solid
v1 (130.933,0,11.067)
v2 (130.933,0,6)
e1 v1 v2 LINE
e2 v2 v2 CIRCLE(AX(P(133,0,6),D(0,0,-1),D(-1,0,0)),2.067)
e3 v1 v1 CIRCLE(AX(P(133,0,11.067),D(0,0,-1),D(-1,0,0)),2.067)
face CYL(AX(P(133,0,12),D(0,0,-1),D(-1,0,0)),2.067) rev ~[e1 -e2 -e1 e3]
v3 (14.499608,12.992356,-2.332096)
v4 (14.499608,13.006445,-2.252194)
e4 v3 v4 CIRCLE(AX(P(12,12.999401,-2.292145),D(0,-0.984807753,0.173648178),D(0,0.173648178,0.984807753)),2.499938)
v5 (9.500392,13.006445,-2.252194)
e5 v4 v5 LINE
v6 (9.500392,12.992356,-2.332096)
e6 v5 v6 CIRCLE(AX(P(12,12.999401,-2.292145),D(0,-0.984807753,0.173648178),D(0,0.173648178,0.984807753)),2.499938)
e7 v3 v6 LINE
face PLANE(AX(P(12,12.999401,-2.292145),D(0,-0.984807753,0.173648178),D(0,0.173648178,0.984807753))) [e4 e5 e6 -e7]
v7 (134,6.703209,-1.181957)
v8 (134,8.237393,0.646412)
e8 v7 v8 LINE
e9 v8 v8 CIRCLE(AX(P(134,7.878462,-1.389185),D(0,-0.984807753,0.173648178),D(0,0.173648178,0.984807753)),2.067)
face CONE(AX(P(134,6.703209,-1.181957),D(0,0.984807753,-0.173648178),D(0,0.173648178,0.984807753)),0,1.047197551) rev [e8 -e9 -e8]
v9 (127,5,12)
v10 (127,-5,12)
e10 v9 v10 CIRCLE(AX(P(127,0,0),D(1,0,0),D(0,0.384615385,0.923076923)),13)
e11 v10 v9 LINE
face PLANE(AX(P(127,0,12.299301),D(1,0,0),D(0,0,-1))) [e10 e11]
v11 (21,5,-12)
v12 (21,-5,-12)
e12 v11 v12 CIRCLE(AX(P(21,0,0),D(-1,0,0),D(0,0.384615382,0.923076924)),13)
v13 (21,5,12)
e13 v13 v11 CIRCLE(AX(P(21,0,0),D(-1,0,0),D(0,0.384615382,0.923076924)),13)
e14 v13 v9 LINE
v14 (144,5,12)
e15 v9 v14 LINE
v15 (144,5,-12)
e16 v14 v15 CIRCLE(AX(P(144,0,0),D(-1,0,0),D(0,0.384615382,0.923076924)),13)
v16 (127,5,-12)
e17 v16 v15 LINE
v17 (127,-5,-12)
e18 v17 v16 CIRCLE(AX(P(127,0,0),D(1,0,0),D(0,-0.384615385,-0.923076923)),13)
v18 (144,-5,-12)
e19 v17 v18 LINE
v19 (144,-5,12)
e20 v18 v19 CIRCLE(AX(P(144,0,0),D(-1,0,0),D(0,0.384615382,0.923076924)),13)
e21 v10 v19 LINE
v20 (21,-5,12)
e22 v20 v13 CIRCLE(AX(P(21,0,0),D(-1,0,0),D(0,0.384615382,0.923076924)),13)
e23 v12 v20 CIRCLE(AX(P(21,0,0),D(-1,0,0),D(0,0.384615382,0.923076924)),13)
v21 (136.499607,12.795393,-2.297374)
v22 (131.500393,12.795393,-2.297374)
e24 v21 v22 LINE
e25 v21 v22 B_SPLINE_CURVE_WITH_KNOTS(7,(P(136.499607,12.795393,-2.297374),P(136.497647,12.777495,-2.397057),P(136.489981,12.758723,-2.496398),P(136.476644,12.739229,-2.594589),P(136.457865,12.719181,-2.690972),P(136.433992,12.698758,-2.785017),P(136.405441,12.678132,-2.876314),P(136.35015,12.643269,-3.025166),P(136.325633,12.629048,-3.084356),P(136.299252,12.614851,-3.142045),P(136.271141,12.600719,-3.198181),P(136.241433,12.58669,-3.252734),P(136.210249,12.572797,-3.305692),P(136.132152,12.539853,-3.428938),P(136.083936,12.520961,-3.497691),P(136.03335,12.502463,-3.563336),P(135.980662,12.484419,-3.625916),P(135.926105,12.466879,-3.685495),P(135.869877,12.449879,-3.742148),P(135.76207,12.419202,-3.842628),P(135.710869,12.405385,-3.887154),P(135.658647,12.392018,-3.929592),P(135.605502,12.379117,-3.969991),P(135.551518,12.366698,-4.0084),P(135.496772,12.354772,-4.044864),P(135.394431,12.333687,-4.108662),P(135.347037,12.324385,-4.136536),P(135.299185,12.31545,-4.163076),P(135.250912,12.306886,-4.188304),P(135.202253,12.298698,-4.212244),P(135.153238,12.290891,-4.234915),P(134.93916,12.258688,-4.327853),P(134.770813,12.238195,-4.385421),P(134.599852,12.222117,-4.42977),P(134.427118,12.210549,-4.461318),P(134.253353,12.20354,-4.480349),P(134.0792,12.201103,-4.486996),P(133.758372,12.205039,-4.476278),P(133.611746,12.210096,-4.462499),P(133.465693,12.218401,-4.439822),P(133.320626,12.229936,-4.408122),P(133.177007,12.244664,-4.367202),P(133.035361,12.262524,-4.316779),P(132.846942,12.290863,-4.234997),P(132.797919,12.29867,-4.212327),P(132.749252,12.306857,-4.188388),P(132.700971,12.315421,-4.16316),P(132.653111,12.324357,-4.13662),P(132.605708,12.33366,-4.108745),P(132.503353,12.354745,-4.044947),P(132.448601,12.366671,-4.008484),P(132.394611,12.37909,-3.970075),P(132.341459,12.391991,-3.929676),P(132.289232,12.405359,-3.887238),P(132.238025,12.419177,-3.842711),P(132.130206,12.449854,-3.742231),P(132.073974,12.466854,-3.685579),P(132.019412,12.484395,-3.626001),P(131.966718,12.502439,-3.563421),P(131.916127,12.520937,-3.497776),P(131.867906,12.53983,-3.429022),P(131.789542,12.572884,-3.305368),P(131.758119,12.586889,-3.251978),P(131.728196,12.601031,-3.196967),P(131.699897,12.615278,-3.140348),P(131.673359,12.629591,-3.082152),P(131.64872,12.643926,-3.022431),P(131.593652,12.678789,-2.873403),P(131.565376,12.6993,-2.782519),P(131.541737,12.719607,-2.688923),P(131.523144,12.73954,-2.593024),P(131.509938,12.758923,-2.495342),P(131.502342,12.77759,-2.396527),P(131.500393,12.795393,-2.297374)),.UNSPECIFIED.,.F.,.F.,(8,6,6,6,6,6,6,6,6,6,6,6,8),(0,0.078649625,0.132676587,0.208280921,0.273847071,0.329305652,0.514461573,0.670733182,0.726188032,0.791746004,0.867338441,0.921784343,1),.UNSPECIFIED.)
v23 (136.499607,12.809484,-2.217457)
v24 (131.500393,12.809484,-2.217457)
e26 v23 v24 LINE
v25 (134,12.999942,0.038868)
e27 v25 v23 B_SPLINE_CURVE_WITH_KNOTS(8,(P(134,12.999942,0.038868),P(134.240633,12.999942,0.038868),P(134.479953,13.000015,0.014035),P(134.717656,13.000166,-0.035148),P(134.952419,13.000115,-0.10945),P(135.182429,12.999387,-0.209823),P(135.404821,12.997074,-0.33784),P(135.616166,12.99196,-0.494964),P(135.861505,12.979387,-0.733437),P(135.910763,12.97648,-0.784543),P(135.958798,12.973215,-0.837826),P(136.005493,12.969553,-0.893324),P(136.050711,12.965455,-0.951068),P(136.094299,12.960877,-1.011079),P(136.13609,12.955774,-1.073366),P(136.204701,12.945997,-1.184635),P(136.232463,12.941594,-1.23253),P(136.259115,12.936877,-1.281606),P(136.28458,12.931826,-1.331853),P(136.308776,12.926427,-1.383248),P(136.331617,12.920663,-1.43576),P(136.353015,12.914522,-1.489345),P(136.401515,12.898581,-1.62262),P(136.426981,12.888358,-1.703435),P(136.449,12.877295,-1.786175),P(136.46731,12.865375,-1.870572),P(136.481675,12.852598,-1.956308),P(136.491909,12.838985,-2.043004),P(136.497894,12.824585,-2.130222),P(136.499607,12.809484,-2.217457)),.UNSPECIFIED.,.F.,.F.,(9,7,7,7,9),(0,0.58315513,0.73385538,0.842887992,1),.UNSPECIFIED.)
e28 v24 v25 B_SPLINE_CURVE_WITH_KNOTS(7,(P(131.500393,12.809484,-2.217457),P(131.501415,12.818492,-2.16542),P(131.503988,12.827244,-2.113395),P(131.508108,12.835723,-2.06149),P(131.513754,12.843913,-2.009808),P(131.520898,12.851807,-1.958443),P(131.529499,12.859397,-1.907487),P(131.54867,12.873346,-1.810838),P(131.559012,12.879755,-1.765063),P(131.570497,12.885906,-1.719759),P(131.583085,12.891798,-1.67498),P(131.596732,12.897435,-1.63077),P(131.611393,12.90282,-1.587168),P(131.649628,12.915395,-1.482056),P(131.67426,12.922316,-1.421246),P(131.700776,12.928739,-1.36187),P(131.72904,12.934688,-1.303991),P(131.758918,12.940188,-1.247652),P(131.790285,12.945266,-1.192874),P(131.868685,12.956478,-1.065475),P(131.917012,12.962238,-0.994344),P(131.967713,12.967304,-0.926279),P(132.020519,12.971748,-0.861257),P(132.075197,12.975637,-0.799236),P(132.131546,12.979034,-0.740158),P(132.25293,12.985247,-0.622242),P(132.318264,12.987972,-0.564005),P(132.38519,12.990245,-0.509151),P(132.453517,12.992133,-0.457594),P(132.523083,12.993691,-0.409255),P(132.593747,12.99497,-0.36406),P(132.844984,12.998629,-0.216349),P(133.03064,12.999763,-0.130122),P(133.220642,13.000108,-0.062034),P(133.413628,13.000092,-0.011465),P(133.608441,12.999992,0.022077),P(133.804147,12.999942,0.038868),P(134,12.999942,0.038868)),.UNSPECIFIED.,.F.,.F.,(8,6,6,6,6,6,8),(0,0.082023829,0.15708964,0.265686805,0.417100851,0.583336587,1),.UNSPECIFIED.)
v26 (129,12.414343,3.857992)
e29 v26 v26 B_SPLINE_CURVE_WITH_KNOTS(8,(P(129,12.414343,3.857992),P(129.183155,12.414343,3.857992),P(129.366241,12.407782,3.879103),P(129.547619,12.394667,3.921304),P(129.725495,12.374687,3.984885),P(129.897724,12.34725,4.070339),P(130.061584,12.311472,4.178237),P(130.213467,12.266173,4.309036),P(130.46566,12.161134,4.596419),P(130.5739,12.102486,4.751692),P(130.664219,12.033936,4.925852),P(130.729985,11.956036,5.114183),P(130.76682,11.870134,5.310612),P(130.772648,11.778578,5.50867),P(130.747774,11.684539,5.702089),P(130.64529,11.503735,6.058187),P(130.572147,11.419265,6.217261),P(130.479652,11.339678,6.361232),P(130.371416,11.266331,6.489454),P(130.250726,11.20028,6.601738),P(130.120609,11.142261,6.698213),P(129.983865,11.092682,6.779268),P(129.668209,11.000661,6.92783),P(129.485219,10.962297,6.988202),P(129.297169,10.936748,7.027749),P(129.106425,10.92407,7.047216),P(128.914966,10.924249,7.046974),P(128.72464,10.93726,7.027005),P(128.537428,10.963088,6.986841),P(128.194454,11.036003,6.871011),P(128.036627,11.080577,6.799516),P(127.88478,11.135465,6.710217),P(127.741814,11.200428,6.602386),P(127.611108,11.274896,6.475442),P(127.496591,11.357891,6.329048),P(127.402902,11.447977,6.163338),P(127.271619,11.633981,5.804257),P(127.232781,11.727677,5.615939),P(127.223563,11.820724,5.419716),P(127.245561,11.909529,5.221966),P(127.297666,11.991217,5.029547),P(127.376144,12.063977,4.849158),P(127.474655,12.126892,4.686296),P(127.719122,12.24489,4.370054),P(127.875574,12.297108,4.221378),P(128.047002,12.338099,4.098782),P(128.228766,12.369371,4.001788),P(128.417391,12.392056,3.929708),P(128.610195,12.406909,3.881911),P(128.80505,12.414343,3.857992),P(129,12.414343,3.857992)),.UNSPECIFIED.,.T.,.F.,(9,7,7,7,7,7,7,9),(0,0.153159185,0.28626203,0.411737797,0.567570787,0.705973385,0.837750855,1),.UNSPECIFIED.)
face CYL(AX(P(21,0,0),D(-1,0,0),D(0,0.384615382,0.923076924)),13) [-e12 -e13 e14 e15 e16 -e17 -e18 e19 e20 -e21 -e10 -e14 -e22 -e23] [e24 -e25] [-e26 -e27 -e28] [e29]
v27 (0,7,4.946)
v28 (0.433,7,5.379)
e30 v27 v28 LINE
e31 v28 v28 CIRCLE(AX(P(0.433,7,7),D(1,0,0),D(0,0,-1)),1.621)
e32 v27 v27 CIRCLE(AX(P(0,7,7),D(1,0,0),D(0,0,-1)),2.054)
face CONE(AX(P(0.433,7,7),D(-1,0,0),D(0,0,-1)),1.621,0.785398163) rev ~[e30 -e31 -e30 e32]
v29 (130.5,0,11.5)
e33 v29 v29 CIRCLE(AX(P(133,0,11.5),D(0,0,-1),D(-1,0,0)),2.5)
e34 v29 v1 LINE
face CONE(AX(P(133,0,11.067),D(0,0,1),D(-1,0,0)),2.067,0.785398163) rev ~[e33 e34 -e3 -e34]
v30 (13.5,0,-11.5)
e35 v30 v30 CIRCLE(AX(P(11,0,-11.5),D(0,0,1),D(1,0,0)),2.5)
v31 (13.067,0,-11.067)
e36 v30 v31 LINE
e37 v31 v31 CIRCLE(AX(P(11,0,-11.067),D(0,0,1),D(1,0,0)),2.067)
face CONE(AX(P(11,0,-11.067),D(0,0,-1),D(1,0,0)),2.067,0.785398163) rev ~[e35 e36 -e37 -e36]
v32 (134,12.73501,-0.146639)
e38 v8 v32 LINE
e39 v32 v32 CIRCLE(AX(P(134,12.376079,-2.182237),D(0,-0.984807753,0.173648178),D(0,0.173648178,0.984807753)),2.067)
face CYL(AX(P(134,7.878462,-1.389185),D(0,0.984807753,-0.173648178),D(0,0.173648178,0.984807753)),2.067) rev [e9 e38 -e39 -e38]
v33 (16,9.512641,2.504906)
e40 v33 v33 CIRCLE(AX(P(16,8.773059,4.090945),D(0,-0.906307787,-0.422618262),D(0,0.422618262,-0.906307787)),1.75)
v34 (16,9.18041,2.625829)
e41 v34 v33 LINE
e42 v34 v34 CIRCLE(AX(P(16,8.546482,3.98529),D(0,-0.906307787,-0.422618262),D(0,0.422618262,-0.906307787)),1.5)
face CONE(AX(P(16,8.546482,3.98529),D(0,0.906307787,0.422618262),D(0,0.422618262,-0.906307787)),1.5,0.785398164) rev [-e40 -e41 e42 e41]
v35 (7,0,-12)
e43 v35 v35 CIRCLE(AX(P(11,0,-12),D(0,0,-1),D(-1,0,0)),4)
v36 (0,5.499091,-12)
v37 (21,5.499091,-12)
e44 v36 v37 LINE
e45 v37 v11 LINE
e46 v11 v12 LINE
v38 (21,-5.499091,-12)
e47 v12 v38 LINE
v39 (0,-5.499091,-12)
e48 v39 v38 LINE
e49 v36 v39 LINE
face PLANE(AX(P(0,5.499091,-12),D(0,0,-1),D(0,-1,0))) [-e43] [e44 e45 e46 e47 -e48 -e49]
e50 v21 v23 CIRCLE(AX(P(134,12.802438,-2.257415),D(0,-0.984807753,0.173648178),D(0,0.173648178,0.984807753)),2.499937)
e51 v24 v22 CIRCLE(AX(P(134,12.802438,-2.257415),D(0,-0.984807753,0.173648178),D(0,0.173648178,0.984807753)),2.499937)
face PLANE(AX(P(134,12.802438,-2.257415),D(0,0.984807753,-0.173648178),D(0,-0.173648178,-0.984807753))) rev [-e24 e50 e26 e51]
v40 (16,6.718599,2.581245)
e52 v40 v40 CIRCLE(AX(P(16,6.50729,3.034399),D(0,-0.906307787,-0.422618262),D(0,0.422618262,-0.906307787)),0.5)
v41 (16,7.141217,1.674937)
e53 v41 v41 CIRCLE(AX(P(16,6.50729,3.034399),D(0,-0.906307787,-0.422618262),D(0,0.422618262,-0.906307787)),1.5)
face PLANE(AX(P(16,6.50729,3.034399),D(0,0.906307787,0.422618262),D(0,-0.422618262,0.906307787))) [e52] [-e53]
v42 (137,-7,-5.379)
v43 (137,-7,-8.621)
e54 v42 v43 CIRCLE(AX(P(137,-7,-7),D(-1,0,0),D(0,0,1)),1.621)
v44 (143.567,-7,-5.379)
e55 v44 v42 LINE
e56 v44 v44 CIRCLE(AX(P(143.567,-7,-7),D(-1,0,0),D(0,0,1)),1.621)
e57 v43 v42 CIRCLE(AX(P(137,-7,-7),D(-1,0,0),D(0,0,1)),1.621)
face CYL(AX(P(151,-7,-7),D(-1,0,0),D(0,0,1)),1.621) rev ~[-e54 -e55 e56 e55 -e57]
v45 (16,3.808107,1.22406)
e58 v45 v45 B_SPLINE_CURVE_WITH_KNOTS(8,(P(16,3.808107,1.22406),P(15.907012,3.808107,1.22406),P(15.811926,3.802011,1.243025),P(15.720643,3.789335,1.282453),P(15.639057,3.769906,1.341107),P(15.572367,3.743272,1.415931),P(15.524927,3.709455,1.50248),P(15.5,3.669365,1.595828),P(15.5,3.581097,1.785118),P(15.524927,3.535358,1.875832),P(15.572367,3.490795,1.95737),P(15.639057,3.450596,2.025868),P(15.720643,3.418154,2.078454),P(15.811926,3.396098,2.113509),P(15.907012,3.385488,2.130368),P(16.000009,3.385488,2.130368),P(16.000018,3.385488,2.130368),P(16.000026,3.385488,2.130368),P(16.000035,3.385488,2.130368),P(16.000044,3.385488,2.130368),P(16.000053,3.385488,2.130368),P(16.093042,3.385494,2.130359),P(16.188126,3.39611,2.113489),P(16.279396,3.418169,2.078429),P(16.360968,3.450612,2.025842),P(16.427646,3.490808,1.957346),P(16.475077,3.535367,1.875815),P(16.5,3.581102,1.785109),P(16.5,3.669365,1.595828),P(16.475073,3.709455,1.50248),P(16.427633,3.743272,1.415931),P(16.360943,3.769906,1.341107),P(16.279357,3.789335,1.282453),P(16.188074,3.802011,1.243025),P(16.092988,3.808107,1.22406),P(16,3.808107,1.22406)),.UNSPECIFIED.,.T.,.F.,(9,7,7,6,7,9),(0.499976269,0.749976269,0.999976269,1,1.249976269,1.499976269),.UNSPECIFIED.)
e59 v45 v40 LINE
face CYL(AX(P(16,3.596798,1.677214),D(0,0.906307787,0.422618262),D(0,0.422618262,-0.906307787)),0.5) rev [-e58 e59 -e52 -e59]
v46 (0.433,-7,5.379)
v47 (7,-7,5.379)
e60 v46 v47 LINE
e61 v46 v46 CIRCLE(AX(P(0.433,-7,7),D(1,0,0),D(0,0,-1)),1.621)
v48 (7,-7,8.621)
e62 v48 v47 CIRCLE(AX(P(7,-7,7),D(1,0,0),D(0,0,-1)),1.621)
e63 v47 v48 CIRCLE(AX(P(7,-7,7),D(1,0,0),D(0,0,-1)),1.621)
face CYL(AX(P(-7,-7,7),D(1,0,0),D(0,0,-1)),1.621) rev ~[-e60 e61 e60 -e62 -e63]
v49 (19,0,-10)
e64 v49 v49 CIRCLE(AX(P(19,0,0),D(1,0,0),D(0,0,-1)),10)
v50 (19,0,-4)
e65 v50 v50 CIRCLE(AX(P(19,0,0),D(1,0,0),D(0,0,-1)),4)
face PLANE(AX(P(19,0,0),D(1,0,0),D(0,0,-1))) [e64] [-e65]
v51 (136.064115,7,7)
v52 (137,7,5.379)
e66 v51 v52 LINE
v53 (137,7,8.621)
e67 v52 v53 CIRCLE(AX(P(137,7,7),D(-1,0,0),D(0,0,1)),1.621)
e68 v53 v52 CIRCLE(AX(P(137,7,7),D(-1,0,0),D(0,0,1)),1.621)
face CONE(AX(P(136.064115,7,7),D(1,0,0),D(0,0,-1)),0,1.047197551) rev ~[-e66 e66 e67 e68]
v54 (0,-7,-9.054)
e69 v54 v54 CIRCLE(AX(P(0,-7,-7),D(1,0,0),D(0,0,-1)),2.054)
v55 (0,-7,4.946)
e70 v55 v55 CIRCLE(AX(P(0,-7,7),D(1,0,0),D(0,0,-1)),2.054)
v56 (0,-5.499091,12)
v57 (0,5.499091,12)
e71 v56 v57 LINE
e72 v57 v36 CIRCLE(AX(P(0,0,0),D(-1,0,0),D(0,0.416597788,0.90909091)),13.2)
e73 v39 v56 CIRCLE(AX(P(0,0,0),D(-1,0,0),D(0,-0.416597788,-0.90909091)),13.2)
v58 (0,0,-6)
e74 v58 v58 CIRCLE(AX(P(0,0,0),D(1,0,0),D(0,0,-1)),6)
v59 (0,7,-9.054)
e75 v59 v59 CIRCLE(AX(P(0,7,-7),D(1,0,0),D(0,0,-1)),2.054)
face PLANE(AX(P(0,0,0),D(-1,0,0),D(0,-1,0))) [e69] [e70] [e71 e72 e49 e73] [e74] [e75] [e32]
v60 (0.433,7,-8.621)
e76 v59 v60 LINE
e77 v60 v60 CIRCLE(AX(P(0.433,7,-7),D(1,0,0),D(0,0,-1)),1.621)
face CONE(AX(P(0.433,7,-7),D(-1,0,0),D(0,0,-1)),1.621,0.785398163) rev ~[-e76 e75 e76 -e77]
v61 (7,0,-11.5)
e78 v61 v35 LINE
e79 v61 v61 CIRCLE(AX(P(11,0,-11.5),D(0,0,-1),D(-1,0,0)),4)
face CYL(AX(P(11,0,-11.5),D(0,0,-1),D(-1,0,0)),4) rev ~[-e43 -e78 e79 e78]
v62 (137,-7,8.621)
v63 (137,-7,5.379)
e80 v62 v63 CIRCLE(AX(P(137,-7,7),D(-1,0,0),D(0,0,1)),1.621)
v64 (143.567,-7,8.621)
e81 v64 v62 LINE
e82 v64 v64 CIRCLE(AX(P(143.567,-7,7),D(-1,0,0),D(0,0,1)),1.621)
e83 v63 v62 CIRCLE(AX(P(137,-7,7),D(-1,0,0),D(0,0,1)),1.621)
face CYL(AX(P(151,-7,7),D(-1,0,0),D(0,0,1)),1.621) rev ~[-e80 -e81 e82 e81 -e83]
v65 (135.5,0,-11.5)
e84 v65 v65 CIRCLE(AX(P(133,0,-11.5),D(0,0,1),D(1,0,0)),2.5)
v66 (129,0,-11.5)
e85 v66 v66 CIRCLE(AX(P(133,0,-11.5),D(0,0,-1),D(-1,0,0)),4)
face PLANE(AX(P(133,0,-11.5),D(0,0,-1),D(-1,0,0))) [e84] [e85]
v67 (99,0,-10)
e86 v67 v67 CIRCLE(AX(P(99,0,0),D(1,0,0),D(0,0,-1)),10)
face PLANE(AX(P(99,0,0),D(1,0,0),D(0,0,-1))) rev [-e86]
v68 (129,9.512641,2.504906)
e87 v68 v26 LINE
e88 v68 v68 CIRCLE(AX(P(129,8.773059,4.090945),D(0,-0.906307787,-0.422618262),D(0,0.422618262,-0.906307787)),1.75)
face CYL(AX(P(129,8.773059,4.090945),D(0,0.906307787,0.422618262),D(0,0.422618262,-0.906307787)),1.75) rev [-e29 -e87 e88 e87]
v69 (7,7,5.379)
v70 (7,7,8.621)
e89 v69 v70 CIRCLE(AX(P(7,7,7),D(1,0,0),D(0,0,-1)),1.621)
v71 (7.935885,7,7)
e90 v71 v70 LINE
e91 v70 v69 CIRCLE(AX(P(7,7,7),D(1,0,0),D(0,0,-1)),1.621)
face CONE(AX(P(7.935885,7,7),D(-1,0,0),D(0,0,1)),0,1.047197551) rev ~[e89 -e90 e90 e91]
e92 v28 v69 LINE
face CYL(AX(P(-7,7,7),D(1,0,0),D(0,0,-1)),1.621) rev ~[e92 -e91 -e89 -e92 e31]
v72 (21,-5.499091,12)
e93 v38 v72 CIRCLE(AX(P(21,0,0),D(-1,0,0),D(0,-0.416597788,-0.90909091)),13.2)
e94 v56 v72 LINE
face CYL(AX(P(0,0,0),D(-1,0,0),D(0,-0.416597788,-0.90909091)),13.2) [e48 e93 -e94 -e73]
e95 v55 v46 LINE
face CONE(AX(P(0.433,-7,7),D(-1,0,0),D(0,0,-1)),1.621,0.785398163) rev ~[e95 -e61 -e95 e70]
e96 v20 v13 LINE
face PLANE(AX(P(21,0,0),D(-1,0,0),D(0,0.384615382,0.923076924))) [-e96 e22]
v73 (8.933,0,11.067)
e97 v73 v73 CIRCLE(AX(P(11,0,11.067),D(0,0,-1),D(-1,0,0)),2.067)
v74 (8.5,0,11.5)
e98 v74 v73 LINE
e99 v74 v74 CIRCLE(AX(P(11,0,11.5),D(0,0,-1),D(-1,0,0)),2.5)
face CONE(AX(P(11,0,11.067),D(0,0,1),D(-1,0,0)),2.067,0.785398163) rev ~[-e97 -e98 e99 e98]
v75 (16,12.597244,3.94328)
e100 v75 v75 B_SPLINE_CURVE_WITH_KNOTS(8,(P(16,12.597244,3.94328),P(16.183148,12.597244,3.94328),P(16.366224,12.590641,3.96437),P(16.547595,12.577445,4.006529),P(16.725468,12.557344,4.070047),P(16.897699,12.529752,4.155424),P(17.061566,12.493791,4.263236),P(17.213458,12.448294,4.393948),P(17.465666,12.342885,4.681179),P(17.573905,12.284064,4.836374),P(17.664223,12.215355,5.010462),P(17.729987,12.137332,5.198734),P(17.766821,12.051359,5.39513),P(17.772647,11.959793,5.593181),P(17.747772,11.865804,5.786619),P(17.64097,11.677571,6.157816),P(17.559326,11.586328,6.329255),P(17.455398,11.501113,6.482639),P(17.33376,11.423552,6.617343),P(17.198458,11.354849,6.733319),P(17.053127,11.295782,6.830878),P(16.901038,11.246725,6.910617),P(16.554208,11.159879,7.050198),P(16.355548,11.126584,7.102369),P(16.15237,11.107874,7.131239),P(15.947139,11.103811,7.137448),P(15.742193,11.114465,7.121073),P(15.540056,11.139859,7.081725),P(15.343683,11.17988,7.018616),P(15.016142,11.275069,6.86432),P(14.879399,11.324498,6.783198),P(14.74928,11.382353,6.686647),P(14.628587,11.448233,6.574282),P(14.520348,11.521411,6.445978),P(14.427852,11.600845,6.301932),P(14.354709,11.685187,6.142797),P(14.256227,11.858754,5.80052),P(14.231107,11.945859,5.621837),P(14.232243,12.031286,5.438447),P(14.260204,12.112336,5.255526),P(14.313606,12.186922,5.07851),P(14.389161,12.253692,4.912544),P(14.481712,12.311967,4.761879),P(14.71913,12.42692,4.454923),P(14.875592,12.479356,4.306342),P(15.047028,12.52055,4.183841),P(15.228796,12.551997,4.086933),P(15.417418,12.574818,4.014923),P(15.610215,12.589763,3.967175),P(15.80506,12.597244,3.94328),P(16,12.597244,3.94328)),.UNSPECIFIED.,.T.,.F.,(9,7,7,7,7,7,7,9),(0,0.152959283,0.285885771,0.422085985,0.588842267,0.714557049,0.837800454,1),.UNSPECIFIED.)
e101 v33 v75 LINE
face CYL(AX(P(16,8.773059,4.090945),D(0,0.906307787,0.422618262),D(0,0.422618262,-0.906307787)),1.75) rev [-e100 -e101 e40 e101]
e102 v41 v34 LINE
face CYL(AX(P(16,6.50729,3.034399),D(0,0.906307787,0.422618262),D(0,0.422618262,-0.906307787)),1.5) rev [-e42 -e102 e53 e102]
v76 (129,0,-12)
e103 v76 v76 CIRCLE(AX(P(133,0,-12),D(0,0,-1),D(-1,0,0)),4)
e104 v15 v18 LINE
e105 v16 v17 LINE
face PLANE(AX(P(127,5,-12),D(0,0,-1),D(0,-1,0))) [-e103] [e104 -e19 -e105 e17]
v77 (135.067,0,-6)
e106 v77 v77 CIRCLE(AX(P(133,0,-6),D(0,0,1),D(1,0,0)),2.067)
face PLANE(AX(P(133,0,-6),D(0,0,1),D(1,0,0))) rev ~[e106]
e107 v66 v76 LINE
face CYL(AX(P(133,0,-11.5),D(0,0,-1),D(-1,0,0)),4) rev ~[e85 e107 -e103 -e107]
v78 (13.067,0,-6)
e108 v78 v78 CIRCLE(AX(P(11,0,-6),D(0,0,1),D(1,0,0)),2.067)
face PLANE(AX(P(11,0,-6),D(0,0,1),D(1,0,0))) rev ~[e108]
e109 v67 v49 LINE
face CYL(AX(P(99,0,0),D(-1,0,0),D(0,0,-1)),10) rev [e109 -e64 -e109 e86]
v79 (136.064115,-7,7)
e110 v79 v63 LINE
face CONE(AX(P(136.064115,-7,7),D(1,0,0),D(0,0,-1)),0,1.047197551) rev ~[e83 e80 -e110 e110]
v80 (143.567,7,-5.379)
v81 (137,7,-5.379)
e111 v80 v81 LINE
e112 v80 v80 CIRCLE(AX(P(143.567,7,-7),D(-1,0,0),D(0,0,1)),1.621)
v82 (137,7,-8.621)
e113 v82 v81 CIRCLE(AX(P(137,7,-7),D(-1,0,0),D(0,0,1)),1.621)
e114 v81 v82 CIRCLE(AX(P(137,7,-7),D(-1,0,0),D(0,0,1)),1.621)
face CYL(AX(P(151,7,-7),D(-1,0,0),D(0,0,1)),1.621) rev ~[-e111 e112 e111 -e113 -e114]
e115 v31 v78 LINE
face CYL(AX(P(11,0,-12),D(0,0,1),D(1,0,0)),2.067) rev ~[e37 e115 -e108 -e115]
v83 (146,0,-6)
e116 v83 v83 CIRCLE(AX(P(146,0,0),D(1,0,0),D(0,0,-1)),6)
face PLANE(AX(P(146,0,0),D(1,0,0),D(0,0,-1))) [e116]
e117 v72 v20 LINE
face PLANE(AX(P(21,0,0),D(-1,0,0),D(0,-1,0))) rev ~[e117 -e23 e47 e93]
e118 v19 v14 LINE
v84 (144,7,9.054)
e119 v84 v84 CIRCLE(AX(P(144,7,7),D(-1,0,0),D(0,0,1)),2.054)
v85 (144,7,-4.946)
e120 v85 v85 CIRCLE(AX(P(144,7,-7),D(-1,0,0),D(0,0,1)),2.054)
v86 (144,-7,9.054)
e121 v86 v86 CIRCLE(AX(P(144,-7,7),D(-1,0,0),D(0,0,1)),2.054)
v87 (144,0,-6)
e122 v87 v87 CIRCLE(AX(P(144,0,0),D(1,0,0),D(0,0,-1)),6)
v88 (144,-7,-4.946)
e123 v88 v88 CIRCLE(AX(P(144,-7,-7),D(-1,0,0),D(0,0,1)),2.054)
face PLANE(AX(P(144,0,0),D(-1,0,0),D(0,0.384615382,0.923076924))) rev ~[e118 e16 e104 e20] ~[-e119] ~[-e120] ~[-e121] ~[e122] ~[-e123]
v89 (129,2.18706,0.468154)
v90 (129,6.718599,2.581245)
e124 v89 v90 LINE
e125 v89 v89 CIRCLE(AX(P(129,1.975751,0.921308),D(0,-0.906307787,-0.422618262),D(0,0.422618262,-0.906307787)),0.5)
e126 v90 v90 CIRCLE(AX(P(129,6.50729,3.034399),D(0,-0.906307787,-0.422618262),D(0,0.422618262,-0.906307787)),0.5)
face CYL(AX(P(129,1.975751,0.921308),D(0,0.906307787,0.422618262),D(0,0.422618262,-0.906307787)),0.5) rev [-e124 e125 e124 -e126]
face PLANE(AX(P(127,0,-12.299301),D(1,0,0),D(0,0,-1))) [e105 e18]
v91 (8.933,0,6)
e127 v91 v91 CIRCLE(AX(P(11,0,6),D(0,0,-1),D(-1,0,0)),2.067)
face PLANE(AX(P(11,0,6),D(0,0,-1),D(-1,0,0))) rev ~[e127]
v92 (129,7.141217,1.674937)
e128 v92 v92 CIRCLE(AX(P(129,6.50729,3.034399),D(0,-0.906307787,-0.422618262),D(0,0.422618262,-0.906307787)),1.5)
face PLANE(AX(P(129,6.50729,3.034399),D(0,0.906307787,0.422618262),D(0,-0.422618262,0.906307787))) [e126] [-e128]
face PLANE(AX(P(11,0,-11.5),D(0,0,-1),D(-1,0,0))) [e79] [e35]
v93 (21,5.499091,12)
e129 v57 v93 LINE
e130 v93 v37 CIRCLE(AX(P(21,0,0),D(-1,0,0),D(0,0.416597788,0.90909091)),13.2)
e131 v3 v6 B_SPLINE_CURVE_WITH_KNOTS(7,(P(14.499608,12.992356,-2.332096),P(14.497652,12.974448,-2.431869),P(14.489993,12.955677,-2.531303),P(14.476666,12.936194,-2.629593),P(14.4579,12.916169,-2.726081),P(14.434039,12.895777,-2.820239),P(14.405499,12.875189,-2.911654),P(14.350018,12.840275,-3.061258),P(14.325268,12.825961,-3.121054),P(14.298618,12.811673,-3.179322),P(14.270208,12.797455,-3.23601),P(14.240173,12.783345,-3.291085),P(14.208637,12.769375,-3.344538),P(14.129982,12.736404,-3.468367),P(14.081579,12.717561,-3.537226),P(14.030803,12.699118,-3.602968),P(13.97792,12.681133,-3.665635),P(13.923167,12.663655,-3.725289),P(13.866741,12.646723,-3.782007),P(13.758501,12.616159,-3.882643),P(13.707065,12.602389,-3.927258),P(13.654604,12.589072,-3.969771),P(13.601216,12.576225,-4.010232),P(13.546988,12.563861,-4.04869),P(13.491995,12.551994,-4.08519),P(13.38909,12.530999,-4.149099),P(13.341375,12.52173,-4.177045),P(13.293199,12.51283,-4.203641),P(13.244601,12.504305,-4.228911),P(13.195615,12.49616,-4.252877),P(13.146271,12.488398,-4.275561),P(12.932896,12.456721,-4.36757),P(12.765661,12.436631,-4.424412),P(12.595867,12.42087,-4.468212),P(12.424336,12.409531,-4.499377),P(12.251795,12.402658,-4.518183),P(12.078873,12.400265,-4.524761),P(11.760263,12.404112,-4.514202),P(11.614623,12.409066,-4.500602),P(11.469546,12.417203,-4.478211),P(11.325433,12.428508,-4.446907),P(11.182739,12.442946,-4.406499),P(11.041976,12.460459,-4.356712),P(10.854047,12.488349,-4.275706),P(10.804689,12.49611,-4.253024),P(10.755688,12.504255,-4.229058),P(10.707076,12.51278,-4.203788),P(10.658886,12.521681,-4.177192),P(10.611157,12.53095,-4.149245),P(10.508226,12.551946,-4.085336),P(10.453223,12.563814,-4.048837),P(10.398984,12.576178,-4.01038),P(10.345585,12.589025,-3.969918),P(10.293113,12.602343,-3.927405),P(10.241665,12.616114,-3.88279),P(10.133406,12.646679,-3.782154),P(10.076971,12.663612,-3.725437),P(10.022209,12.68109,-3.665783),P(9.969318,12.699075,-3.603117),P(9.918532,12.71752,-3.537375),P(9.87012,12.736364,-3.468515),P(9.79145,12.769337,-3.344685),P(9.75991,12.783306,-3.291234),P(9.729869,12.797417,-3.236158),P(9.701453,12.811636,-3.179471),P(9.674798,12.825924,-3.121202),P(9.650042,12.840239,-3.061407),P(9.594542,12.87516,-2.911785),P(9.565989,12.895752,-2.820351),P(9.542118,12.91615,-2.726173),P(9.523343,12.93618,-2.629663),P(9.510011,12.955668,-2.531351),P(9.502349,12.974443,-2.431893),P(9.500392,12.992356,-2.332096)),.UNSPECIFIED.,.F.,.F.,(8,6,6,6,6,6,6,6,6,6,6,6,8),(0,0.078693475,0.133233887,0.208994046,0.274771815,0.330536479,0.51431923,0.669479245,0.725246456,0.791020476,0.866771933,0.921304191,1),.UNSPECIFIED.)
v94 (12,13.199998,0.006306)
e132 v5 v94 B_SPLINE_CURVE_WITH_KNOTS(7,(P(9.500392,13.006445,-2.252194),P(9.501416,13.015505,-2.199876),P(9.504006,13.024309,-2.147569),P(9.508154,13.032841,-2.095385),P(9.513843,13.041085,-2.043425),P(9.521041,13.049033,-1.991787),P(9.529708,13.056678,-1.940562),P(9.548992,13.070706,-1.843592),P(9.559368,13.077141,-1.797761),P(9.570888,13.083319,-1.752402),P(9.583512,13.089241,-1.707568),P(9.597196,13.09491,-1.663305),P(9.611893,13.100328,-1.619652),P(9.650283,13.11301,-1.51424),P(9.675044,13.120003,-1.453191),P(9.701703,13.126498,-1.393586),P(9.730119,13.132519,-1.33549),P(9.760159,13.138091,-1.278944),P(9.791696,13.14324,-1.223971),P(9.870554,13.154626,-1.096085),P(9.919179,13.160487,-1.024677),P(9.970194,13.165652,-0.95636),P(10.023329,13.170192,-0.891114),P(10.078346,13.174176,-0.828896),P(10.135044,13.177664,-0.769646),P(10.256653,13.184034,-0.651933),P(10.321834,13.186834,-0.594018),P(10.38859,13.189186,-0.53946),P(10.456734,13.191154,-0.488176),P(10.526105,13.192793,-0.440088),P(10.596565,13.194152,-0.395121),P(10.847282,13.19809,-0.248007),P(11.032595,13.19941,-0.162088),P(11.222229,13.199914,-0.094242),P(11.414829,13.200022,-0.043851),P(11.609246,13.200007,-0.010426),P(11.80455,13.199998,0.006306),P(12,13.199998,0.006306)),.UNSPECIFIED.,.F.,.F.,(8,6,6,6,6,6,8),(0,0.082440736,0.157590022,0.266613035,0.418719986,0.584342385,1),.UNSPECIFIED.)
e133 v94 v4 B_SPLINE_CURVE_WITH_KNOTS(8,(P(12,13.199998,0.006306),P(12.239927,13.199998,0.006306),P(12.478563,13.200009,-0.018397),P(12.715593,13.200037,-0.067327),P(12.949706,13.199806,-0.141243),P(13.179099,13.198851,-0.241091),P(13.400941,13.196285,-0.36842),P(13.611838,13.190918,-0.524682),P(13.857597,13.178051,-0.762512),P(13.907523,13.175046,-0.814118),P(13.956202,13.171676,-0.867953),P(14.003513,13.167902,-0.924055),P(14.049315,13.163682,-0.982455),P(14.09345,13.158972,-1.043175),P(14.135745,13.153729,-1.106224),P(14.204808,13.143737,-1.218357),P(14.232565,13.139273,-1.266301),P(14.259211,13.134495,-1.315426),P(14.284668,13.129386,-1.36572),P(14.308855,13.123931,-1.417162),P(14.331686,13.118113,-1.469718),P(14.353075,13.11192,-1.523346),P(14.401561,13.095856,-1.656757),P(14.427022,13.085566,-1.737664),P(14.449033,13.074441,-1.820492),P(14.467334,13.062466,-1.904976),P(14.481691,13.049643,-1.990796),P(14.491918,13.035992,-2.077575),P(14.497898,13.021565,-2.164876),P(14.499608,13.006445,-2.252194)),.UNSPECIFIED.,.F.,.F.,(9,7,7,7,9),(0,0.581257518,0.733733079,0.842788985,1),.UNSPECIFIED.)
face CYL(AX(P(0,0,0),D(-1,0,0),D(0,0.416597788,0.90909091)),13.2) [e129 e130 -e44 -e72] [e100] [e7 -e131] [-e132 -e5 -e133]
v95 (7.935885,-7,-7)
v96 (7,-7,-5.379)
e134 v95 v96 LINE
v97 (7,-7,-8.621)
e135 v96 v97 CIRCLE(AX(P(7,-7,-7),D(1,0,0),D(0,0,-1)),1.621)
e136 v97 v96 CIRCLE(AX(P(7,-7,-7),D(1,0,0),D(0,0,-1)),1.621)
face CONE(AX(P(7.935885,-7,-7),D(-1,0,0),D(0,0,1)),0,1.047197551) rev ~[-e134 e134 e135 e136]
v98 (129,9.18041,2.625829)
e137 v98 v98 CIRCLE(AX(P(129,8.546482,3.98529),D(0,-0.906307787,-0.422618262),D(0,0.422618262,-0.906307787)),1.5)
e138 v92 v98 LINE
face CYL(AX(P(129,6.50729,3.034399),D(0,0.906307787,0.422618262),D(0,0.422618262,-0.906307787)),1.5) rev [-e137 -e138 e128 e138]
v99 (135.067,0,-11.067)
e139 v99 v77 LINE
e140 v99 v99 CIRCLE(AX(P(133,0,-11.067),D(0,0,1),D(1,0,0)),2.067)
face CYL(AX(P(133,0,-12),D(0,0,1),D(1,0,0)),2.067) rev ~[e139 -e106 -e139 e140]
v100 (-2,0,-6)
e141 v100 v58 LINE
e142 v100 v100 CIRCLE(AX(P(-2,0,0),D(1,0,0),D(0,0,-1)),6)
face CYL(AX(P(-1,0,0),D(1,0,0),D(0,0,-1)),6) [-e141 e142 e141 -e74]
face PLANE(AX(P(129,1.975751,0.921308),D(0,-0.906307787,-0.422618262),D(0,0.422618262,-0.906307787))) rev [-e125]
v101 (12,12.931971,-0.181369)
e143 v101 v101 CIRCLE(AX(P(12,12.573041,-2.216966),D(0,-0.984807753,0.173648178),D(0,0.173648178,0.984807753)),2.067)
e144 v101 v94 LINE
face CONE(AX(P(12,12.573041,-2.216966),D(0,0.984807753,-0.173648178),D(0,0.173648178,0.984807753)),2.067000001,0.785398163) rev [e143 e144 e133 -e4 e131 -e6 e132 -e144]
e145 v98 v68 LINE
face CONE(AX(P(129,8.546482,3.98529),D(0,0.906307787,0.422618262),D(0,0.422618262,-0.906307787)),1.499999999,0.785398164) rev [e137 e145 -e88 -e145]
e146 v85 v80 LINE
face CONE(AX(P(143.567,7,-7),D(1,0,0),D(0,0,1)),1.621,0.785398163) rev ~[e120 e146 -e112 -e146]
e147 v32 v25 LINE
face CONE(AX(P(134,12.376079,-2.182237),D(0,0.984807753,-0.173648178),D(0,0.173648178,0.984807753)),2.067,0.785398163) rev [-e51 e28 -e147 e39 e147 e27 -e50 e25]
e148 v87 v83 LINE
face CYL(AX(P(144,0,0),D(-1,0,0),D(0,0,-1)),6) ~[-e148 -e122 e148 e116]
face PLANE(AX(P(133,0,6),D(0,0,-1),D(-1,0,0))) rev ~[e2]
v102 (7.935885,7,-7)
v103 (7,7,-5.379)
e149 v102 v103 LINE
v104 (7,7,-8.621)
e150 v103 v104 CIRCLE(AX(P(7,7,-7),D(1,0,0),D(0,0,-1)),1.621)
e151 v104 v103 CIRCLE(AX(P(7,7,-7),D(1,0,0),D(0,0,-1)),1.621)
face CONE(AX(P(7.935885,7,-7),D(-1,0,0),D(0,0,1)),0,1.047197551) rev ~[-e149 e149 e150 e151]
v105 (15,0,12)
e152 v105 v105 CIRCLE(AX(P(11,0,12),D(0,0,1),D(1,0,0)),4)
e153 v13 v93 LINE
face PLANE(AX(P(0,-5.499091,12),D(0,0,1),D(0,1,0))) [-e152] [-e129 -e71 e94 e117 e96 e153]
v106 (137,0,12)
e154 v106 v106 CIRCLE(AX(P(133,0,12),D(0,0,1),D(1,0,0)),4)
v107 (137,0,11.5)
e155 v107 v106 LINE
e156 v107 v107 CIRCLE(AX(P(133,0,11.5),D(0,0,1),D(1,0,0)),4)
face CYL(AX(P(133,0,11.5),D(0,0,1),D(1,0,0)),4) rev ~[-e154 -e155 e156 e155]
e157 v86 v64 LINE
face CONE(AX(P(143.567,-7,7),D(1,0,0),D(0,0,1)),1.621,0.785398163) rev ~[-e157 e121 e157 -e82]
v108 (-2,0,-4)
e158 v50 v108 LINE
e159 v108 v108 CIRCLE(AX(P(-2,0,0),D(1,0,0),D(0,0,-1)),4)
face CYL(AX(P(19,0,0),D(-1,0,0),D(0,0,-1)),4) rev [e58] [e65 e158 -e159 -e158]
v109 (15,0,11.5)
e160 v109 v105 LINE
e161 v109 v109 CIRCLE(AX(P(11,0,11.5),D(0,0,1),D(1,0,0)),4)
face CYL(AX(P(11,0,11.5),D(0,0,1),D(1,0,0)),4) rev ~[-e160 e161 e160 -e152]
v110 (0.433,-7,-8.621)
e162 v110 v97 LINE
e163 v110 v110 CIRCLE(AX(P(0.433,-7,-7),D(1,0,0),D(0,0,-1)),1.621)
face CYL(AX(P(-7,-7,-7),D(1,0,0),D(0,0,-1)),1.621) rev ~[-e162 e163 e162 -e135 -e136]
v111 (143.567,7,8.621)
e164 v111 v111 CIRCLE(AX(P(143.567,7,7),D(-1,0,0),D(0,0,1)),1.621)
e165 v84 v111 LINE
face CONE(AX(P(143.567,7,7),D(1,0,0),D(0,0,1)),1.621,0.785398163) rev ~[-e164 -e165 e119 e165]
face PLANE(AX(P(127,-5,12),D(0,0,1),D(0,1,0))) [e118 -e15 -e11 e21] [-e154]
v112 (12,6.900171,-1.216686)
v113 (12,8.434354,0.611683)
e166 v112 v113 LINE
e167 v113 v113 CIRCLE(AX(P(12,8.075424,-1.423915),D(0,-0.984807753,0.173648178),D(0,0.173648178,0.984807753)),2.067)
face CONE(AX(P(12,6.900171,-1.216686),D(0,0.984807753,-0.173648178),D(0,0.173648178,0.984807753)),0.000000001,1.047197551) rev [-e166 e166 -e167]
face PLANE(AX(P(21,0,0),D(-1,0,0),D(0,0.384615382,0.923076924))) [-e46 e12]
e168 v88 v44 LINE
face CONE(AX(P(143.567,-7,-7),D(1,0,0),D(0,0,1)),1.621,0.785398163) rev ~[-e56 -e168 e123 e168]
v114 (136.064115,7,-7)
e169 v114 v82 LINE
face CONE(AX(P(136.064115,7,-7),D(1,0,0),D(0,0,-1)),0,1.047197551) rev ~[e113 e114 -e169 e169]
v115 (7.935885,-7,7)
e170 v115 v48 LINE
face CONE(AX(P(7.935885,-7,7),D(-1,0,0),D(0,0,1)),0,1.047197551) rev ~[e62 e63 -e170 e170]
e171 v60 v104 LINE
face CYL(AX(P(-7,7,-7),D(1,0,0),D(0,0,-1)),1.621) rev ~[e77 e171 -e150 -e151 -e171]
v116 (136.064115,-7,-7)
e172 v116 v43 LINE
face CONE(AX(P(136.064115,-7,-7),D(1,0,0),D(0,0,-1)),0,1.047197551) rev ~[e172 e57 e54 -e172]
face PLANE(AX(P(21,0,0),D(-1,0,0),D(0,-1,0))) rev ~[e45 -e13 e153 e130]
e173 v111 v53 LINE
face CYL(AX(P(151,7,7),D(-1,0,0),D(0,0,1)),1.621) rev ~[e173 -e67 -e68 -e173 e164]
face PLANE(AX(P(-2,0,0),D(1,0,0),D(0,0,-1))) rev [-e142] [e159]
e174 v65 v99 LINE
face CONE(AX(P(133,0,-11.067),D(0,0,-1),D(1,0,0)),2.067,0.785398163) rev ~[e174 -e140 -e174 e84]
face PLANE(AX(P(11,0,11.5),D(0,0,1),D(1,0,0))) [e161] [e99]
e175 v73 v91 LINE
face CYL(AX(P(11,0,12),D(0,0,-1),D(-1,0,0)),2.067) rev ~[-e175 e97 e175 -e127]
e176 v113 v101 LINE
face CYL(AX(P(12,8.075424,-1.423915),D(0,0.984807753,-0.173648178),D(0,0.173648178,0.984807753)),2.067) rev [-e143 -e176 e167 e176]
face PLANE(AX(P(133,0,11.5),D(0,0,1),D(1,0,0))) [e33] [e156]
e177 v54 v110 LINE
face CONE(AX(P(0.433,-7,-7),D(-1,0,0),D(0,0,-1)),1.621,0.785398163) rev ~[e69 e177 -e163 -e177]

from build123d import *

# Parameters (mm, degrees)
EXTRUDE_1_DEPTH                = 21
SKETCH_2_R                     = 13
EXTRUDE_2_DEPTH                = 123
CUT_EXTRUDE_START              = -17
CUT_EXTRUDE_1_DEPTH            = 17
CUT_EXTRUDE_2_DEPTH            = 17
SKETCH_5_R                     = 6
EXTRUDE_3_DEPTH                = 2
SKETCH_6_W                     = 2
SKETCH_6_H                     = 6
HOLE_WIZARD_M3_1_D             = 3.242
HOLE_WIZARD_M3_1_DEPTH         = 7
HOLE_WIZARD_M3_1_TIP           = 0.935884786
HOLE_WIZARD_M3_5_1_D           = 4.134
HOLE_WIZARD_M3_5_1_DEPTH       = 6
HOLE_WIZARD_M3_5_1_CBORE_D     = 8
HOLE_WIZARD_M3_5_1_CBORE_DEPTH = 0.5
HOLE_WIZARD_M3_5_2_D           = 4.134
HOLE_WIZARD_M3_5_2_DEPTH       = 6
HOLE_WIZARD_M3_5_2_CBORE_D     = 8
HOLE_WIZARD_M3_5_2_CBORE_DEPTH = 0.5
HOLE_WIZARD_M3_2_D             = 3.242
HOLE_WIZARD_M3_2_DEPTH         = 7
HOLE_WIZARD_M3_2_TIP           = 0.935884786
CHAMFER_1_SIZE                 = 0.433


with BuildPart() as part:
    # ｽｹｯﾁ1 → ﾎﾞｽ - 押し出し1 (new body)
    with BuildSketch(Plane(origin=(0, 0, 0), x_dir=(0, -1, 0), z_dir=(-1, 0, 0))):
        with BuildLine():
            Line((-5.499090807, -12.000000012), (5.499090807, -12.000000012))
            ThreePointArc((5.499090807, -12.000000012), (13.2, 0), (5.499090807, 12.000000012))
            Line((5.499090807, 12.000000012), (-5.499090807, 12.000000012))
            ThreePointArc((-5.499090807, 12.000000012), (-13.2, 0), (-5.499090807, -12.000000012))
        make_face()
    extrude(amount=-EXTRUDE_1_DEPTH)

    # ｽｹｯﾁ2 → ﾎﾞｽ - 押し出し2 (add)
    with BuildSketch(Plane(origin=(21, 0, 0), x_dir=(0, -1, 0), z_dir=(-1, 0, 0))):
        with Locations(Location((0, 0, 0), (0, 0, 112.619864808))):
            Circle(SKETCH_2_R)
    extrude(amount=-EXTRUDE_2_DEPTH)

    # ｽｹｯﾁ3 → ｶｯﾄ - 押し出し1 (cut)
    with BuildSketch(Plane(origin=(144, 0, 0), x_dir=(0, 0, -1), z_dir=(1, 0, 0)).offset(CUT_EXTRUDE_START)):
        with BuildLine():
            Line((-12, -5), (-12, 5))
            ThreePointArc((-12, 5), (-13, 0), (-12, -5))
        make_face()
    extrude(amount=CUT_EXTRUDE_1_DEPTH, mode=Mode.SUBTRACT)

    # ｽｹｯﾁ4 → ｶｯﾄ - 押し出し2 (cut)
    with BuildSketch(Plane(origin=(144, 0, 0), x_dir=(0, 0, -1), z_dir=(1, 0, 0)).offset(CUT_EXTRUDE_START)):
        with BuildLine():
            Line((12, 5), (12, -5))
            ThreePointArc((12, -5), (13, 0), (12, 5))
        make_face()
    extrude(amount=CUT_EXTRUDE_2_DEPTH, mode=Mode.SUBTRACT)

    # ｽｹｯﾁ5 → ﾎﾞｽ - 押し出し3 (add)
    with BuildSketch(Plane(origin=(144, 0, 0), x_dir=(0, 0, -1), z_dir=(1, 0, 0))):
        Circle(SKETCH_5_R)
    extrude(amount=EXTRUDE_3_DEPTH)

    # ｽｹｯﾁ6 → 回転1 (revolve)
    with BuildSketch(Plane.XY, mode=Mode.PRIVATE) as revolve_1_sk:
        with Locations((-1, 3)):
            Rectangle(SKETCH_6_W, SKETCH_6_H)
    revolve(revolve_1_sk.sketch.rotate(Axis((-2, 0, 0), (1, 0, 0)), 270), axis=Axis((-2, 0, 0), (1, 0, 0)))

    # ｽｹｯﾁ7 → ｶｯﾄ - 回転1 (revolve, cut)
    with BuildSketch(Plane.XY, mode=Mode.PRIVATE) as cut_revolve_1_sk:
        Polygon((-2, 4), (-2, 0), (99, 0), (99, 10), (19, 10), (19, 4), align=None)
    revolve(cut_revolve_1_sk.sketch.rotate(Axis((-2, 0, 0), (1, 0, 0)), 270), axis=Axis((-2, 0, 0), (1, 0, 0)), mode=Mode.SUBTRACT)

    # ｽｹｯﾁ8 → ｶｯﾄ - 回転2 (revolve, cut)
    with BuildSketch(Plane(origin=(16, 0, 0), x_dir=(0, 0, -1), z_dir=(1, 0, 0))):
        Polygon((-3.992522404, 12.702844697), (-5.578561032, 11.963262739), (-1.67721423, 3.596797524), (-1.224060337, 3.808106655), (-2.581245226, 6.718599042), (-1.674937439, 7.141217304), (-2.625828528, 9.180409824), (-2.504906146, 9.512641337), align=None)
    revolve(axis=Axis((16, 11.963262739, 5.578561032), (0, -0.9063077870366498, -0.42261826174069983)), mode=Mode.SUBTRACT)

    # ｽｹｯﾁ9 → ｶｯﾄ - 回転3 (revolve, cut)
    with BuildSketch(Plane(origin=(129, 0, 0), x_dir=(0, 0, -1), z_dir=(1, 0, 0))):
        Polygon((-3.907998745, 12.521583124), (-5.494037372, 11.782001166), (-0.921307811, 1.975750976), (-0.468153917, 2.187060107), (-2.581245226, 6.718599042), (-1.674937439, 7.141217304), (-2.625828528, 9.180409824), (-2.504906146, 9.512641337), align=None)
    revolve(axis=Axis((129, 11.782001166, 5.494037372), (0, -0.9063077870366498, -0.4226182617406999)), mode=Mode.SUBTRACT)

    # M3 すきま穴1
    with Locations(Plane(origin=(144, 0, 0), x_dir=(0, 0, -1), z_dir=(1, 0, 0))):
        with Locations((-7, 7), (-7, -7), (7, -7), (7, 7)):
            Hole(HOLE_WIZARD_M3_1_D / 2, depth=HOLE_WIZARD_M3_1_DEPTH)
            with Locations((0, 0, -(HOLE_WIZARD_M3_1_DEPTH + HOLE_WIZARD_M3_1_TIP / 2))):  # 120° drill point
                Cone(0, HOLE_WIZARD_M3_1_D / 2, HOLE_WIZARD_M3_1_TIP, mode=Mode.SUBTRACT)

    # M3.5 六角小ねじ用座ぐり穴1
    with Locations(Plane.XY.offset(12.000000012)):
        with Locations((11, 0), (133, 0)):
            CounterBoreHole(HOLE_WIZARD_M3_5_1_D / 2, HOLE_WIZARD_M3_5_1_CBORE_D / 2, HOLE_WIZARD_M3_5_1_CBORE_DEPTH, depth=HOLE_WIZARD_M3_5_1_DEPTH)

    # ｽｹｯﾁ14 → M3.5 皿頭小ねじ(100)用皿穴1 (revolve, cut)
    with BuildSketch(Plane(origin=(12, 12.999400949, -2.29214512), x_dir=(0, 0.17364817766692953, 0.9848077530122082), z_dir=(1, 0, 0))):
        Polygon((0, 0), (0, 6.193320669), (2.067, 4.999937663), (2.067, 0.432937663), (2.499937663, 0), align=None)
    revolve(axis=Axis((12, 19.252930181, -3.394811049), (0, -0.9848077530122082, 0.1736481776669295)), mode=Mode.SUBTRACT)

    # M3.5 六角小ねじ用座ぐり穴2
    with Locations(Plane(origin=(0, 0, -12.000000012), x_dir=(-1, 0, 0), z_dir=(0, 0, -1))):
        with Locations((-11, 0), (-133, 0)):
            CounterBoreHole(HOLE_WIZARD_M3_5_2_D / 2, HOLE_WIZARD_M3_5_2_CBORE_D / 2, HOLE_WIZARD_M3_5_2_CBORE_DEPTH, depth=HOLE_WIZARD_M3_5_2_DEPTH)

    # M3 すきま穴2
    with Locations(Plane.ZY):
        with Locations((7, 7), (7, -7), (-7, -7), (-7, 7)):
            Hole(HOLE_WIZARD_M3_2_D / 2, depth=HOLE_WIZARD_M3_2_DEPTH)
            with Locations((0, 0, -(HOLE_WIZARD_M3_2_DEPTH + HOLE_WIZARD_M3_2_TIP / 2))):  # 120° drill point
                Cone(0, HOLE_WIZARD_M3_2_D / 2, HOLE_WIZARD_M3_2_TIP, mode=Mode.SUBTRACT)

    # ｽｹｯﾁ20 → M3.5 皿頭小ねじ(100)用皿穴2 (revolve, cut)
    with BuildSketch(Plane(origin=(134, 12.802438431, -2.257415314), x_dir=(0, 0.1736481776669296, 0.9848077530122082), z_dir=(1, 0, 0))):
        Polygon((0, 0), (0, 6.193319686), (2.067, 4.99993668), (2.067, 0.43293668), (2.49993668, 0), align=None)
    revolve(axis=Axis((134, 19.055967663, -3.360081242), (0, -0.9848077530122082, 0.17364817766692964)), mode=Mode.SUBTRACT)

    # 面取り1
    chamfer_1_edges = [part.edges().sort_by_distance(p)[0] for p in [
        (13.067, 0, 11.500000012),
        (130.933, 0, -11.500000012),
        (8.933, 0, -11.500000012),
        (0, 7, -5.379),
        (0, -7, -5.379),
        (0, -7, 8.621),
        (0, 7, 8.621),
        (144, 7, -8.621),
        (144, -7, -8.621),
        (144, -7, 5.379),
        (144, 7, 5.379),
        (135.067, 0, 11.500000012),
    ]]
    chamfer(chamfer_1_edges, length=CHAMFER_1_SIZE)


solid = part.part
